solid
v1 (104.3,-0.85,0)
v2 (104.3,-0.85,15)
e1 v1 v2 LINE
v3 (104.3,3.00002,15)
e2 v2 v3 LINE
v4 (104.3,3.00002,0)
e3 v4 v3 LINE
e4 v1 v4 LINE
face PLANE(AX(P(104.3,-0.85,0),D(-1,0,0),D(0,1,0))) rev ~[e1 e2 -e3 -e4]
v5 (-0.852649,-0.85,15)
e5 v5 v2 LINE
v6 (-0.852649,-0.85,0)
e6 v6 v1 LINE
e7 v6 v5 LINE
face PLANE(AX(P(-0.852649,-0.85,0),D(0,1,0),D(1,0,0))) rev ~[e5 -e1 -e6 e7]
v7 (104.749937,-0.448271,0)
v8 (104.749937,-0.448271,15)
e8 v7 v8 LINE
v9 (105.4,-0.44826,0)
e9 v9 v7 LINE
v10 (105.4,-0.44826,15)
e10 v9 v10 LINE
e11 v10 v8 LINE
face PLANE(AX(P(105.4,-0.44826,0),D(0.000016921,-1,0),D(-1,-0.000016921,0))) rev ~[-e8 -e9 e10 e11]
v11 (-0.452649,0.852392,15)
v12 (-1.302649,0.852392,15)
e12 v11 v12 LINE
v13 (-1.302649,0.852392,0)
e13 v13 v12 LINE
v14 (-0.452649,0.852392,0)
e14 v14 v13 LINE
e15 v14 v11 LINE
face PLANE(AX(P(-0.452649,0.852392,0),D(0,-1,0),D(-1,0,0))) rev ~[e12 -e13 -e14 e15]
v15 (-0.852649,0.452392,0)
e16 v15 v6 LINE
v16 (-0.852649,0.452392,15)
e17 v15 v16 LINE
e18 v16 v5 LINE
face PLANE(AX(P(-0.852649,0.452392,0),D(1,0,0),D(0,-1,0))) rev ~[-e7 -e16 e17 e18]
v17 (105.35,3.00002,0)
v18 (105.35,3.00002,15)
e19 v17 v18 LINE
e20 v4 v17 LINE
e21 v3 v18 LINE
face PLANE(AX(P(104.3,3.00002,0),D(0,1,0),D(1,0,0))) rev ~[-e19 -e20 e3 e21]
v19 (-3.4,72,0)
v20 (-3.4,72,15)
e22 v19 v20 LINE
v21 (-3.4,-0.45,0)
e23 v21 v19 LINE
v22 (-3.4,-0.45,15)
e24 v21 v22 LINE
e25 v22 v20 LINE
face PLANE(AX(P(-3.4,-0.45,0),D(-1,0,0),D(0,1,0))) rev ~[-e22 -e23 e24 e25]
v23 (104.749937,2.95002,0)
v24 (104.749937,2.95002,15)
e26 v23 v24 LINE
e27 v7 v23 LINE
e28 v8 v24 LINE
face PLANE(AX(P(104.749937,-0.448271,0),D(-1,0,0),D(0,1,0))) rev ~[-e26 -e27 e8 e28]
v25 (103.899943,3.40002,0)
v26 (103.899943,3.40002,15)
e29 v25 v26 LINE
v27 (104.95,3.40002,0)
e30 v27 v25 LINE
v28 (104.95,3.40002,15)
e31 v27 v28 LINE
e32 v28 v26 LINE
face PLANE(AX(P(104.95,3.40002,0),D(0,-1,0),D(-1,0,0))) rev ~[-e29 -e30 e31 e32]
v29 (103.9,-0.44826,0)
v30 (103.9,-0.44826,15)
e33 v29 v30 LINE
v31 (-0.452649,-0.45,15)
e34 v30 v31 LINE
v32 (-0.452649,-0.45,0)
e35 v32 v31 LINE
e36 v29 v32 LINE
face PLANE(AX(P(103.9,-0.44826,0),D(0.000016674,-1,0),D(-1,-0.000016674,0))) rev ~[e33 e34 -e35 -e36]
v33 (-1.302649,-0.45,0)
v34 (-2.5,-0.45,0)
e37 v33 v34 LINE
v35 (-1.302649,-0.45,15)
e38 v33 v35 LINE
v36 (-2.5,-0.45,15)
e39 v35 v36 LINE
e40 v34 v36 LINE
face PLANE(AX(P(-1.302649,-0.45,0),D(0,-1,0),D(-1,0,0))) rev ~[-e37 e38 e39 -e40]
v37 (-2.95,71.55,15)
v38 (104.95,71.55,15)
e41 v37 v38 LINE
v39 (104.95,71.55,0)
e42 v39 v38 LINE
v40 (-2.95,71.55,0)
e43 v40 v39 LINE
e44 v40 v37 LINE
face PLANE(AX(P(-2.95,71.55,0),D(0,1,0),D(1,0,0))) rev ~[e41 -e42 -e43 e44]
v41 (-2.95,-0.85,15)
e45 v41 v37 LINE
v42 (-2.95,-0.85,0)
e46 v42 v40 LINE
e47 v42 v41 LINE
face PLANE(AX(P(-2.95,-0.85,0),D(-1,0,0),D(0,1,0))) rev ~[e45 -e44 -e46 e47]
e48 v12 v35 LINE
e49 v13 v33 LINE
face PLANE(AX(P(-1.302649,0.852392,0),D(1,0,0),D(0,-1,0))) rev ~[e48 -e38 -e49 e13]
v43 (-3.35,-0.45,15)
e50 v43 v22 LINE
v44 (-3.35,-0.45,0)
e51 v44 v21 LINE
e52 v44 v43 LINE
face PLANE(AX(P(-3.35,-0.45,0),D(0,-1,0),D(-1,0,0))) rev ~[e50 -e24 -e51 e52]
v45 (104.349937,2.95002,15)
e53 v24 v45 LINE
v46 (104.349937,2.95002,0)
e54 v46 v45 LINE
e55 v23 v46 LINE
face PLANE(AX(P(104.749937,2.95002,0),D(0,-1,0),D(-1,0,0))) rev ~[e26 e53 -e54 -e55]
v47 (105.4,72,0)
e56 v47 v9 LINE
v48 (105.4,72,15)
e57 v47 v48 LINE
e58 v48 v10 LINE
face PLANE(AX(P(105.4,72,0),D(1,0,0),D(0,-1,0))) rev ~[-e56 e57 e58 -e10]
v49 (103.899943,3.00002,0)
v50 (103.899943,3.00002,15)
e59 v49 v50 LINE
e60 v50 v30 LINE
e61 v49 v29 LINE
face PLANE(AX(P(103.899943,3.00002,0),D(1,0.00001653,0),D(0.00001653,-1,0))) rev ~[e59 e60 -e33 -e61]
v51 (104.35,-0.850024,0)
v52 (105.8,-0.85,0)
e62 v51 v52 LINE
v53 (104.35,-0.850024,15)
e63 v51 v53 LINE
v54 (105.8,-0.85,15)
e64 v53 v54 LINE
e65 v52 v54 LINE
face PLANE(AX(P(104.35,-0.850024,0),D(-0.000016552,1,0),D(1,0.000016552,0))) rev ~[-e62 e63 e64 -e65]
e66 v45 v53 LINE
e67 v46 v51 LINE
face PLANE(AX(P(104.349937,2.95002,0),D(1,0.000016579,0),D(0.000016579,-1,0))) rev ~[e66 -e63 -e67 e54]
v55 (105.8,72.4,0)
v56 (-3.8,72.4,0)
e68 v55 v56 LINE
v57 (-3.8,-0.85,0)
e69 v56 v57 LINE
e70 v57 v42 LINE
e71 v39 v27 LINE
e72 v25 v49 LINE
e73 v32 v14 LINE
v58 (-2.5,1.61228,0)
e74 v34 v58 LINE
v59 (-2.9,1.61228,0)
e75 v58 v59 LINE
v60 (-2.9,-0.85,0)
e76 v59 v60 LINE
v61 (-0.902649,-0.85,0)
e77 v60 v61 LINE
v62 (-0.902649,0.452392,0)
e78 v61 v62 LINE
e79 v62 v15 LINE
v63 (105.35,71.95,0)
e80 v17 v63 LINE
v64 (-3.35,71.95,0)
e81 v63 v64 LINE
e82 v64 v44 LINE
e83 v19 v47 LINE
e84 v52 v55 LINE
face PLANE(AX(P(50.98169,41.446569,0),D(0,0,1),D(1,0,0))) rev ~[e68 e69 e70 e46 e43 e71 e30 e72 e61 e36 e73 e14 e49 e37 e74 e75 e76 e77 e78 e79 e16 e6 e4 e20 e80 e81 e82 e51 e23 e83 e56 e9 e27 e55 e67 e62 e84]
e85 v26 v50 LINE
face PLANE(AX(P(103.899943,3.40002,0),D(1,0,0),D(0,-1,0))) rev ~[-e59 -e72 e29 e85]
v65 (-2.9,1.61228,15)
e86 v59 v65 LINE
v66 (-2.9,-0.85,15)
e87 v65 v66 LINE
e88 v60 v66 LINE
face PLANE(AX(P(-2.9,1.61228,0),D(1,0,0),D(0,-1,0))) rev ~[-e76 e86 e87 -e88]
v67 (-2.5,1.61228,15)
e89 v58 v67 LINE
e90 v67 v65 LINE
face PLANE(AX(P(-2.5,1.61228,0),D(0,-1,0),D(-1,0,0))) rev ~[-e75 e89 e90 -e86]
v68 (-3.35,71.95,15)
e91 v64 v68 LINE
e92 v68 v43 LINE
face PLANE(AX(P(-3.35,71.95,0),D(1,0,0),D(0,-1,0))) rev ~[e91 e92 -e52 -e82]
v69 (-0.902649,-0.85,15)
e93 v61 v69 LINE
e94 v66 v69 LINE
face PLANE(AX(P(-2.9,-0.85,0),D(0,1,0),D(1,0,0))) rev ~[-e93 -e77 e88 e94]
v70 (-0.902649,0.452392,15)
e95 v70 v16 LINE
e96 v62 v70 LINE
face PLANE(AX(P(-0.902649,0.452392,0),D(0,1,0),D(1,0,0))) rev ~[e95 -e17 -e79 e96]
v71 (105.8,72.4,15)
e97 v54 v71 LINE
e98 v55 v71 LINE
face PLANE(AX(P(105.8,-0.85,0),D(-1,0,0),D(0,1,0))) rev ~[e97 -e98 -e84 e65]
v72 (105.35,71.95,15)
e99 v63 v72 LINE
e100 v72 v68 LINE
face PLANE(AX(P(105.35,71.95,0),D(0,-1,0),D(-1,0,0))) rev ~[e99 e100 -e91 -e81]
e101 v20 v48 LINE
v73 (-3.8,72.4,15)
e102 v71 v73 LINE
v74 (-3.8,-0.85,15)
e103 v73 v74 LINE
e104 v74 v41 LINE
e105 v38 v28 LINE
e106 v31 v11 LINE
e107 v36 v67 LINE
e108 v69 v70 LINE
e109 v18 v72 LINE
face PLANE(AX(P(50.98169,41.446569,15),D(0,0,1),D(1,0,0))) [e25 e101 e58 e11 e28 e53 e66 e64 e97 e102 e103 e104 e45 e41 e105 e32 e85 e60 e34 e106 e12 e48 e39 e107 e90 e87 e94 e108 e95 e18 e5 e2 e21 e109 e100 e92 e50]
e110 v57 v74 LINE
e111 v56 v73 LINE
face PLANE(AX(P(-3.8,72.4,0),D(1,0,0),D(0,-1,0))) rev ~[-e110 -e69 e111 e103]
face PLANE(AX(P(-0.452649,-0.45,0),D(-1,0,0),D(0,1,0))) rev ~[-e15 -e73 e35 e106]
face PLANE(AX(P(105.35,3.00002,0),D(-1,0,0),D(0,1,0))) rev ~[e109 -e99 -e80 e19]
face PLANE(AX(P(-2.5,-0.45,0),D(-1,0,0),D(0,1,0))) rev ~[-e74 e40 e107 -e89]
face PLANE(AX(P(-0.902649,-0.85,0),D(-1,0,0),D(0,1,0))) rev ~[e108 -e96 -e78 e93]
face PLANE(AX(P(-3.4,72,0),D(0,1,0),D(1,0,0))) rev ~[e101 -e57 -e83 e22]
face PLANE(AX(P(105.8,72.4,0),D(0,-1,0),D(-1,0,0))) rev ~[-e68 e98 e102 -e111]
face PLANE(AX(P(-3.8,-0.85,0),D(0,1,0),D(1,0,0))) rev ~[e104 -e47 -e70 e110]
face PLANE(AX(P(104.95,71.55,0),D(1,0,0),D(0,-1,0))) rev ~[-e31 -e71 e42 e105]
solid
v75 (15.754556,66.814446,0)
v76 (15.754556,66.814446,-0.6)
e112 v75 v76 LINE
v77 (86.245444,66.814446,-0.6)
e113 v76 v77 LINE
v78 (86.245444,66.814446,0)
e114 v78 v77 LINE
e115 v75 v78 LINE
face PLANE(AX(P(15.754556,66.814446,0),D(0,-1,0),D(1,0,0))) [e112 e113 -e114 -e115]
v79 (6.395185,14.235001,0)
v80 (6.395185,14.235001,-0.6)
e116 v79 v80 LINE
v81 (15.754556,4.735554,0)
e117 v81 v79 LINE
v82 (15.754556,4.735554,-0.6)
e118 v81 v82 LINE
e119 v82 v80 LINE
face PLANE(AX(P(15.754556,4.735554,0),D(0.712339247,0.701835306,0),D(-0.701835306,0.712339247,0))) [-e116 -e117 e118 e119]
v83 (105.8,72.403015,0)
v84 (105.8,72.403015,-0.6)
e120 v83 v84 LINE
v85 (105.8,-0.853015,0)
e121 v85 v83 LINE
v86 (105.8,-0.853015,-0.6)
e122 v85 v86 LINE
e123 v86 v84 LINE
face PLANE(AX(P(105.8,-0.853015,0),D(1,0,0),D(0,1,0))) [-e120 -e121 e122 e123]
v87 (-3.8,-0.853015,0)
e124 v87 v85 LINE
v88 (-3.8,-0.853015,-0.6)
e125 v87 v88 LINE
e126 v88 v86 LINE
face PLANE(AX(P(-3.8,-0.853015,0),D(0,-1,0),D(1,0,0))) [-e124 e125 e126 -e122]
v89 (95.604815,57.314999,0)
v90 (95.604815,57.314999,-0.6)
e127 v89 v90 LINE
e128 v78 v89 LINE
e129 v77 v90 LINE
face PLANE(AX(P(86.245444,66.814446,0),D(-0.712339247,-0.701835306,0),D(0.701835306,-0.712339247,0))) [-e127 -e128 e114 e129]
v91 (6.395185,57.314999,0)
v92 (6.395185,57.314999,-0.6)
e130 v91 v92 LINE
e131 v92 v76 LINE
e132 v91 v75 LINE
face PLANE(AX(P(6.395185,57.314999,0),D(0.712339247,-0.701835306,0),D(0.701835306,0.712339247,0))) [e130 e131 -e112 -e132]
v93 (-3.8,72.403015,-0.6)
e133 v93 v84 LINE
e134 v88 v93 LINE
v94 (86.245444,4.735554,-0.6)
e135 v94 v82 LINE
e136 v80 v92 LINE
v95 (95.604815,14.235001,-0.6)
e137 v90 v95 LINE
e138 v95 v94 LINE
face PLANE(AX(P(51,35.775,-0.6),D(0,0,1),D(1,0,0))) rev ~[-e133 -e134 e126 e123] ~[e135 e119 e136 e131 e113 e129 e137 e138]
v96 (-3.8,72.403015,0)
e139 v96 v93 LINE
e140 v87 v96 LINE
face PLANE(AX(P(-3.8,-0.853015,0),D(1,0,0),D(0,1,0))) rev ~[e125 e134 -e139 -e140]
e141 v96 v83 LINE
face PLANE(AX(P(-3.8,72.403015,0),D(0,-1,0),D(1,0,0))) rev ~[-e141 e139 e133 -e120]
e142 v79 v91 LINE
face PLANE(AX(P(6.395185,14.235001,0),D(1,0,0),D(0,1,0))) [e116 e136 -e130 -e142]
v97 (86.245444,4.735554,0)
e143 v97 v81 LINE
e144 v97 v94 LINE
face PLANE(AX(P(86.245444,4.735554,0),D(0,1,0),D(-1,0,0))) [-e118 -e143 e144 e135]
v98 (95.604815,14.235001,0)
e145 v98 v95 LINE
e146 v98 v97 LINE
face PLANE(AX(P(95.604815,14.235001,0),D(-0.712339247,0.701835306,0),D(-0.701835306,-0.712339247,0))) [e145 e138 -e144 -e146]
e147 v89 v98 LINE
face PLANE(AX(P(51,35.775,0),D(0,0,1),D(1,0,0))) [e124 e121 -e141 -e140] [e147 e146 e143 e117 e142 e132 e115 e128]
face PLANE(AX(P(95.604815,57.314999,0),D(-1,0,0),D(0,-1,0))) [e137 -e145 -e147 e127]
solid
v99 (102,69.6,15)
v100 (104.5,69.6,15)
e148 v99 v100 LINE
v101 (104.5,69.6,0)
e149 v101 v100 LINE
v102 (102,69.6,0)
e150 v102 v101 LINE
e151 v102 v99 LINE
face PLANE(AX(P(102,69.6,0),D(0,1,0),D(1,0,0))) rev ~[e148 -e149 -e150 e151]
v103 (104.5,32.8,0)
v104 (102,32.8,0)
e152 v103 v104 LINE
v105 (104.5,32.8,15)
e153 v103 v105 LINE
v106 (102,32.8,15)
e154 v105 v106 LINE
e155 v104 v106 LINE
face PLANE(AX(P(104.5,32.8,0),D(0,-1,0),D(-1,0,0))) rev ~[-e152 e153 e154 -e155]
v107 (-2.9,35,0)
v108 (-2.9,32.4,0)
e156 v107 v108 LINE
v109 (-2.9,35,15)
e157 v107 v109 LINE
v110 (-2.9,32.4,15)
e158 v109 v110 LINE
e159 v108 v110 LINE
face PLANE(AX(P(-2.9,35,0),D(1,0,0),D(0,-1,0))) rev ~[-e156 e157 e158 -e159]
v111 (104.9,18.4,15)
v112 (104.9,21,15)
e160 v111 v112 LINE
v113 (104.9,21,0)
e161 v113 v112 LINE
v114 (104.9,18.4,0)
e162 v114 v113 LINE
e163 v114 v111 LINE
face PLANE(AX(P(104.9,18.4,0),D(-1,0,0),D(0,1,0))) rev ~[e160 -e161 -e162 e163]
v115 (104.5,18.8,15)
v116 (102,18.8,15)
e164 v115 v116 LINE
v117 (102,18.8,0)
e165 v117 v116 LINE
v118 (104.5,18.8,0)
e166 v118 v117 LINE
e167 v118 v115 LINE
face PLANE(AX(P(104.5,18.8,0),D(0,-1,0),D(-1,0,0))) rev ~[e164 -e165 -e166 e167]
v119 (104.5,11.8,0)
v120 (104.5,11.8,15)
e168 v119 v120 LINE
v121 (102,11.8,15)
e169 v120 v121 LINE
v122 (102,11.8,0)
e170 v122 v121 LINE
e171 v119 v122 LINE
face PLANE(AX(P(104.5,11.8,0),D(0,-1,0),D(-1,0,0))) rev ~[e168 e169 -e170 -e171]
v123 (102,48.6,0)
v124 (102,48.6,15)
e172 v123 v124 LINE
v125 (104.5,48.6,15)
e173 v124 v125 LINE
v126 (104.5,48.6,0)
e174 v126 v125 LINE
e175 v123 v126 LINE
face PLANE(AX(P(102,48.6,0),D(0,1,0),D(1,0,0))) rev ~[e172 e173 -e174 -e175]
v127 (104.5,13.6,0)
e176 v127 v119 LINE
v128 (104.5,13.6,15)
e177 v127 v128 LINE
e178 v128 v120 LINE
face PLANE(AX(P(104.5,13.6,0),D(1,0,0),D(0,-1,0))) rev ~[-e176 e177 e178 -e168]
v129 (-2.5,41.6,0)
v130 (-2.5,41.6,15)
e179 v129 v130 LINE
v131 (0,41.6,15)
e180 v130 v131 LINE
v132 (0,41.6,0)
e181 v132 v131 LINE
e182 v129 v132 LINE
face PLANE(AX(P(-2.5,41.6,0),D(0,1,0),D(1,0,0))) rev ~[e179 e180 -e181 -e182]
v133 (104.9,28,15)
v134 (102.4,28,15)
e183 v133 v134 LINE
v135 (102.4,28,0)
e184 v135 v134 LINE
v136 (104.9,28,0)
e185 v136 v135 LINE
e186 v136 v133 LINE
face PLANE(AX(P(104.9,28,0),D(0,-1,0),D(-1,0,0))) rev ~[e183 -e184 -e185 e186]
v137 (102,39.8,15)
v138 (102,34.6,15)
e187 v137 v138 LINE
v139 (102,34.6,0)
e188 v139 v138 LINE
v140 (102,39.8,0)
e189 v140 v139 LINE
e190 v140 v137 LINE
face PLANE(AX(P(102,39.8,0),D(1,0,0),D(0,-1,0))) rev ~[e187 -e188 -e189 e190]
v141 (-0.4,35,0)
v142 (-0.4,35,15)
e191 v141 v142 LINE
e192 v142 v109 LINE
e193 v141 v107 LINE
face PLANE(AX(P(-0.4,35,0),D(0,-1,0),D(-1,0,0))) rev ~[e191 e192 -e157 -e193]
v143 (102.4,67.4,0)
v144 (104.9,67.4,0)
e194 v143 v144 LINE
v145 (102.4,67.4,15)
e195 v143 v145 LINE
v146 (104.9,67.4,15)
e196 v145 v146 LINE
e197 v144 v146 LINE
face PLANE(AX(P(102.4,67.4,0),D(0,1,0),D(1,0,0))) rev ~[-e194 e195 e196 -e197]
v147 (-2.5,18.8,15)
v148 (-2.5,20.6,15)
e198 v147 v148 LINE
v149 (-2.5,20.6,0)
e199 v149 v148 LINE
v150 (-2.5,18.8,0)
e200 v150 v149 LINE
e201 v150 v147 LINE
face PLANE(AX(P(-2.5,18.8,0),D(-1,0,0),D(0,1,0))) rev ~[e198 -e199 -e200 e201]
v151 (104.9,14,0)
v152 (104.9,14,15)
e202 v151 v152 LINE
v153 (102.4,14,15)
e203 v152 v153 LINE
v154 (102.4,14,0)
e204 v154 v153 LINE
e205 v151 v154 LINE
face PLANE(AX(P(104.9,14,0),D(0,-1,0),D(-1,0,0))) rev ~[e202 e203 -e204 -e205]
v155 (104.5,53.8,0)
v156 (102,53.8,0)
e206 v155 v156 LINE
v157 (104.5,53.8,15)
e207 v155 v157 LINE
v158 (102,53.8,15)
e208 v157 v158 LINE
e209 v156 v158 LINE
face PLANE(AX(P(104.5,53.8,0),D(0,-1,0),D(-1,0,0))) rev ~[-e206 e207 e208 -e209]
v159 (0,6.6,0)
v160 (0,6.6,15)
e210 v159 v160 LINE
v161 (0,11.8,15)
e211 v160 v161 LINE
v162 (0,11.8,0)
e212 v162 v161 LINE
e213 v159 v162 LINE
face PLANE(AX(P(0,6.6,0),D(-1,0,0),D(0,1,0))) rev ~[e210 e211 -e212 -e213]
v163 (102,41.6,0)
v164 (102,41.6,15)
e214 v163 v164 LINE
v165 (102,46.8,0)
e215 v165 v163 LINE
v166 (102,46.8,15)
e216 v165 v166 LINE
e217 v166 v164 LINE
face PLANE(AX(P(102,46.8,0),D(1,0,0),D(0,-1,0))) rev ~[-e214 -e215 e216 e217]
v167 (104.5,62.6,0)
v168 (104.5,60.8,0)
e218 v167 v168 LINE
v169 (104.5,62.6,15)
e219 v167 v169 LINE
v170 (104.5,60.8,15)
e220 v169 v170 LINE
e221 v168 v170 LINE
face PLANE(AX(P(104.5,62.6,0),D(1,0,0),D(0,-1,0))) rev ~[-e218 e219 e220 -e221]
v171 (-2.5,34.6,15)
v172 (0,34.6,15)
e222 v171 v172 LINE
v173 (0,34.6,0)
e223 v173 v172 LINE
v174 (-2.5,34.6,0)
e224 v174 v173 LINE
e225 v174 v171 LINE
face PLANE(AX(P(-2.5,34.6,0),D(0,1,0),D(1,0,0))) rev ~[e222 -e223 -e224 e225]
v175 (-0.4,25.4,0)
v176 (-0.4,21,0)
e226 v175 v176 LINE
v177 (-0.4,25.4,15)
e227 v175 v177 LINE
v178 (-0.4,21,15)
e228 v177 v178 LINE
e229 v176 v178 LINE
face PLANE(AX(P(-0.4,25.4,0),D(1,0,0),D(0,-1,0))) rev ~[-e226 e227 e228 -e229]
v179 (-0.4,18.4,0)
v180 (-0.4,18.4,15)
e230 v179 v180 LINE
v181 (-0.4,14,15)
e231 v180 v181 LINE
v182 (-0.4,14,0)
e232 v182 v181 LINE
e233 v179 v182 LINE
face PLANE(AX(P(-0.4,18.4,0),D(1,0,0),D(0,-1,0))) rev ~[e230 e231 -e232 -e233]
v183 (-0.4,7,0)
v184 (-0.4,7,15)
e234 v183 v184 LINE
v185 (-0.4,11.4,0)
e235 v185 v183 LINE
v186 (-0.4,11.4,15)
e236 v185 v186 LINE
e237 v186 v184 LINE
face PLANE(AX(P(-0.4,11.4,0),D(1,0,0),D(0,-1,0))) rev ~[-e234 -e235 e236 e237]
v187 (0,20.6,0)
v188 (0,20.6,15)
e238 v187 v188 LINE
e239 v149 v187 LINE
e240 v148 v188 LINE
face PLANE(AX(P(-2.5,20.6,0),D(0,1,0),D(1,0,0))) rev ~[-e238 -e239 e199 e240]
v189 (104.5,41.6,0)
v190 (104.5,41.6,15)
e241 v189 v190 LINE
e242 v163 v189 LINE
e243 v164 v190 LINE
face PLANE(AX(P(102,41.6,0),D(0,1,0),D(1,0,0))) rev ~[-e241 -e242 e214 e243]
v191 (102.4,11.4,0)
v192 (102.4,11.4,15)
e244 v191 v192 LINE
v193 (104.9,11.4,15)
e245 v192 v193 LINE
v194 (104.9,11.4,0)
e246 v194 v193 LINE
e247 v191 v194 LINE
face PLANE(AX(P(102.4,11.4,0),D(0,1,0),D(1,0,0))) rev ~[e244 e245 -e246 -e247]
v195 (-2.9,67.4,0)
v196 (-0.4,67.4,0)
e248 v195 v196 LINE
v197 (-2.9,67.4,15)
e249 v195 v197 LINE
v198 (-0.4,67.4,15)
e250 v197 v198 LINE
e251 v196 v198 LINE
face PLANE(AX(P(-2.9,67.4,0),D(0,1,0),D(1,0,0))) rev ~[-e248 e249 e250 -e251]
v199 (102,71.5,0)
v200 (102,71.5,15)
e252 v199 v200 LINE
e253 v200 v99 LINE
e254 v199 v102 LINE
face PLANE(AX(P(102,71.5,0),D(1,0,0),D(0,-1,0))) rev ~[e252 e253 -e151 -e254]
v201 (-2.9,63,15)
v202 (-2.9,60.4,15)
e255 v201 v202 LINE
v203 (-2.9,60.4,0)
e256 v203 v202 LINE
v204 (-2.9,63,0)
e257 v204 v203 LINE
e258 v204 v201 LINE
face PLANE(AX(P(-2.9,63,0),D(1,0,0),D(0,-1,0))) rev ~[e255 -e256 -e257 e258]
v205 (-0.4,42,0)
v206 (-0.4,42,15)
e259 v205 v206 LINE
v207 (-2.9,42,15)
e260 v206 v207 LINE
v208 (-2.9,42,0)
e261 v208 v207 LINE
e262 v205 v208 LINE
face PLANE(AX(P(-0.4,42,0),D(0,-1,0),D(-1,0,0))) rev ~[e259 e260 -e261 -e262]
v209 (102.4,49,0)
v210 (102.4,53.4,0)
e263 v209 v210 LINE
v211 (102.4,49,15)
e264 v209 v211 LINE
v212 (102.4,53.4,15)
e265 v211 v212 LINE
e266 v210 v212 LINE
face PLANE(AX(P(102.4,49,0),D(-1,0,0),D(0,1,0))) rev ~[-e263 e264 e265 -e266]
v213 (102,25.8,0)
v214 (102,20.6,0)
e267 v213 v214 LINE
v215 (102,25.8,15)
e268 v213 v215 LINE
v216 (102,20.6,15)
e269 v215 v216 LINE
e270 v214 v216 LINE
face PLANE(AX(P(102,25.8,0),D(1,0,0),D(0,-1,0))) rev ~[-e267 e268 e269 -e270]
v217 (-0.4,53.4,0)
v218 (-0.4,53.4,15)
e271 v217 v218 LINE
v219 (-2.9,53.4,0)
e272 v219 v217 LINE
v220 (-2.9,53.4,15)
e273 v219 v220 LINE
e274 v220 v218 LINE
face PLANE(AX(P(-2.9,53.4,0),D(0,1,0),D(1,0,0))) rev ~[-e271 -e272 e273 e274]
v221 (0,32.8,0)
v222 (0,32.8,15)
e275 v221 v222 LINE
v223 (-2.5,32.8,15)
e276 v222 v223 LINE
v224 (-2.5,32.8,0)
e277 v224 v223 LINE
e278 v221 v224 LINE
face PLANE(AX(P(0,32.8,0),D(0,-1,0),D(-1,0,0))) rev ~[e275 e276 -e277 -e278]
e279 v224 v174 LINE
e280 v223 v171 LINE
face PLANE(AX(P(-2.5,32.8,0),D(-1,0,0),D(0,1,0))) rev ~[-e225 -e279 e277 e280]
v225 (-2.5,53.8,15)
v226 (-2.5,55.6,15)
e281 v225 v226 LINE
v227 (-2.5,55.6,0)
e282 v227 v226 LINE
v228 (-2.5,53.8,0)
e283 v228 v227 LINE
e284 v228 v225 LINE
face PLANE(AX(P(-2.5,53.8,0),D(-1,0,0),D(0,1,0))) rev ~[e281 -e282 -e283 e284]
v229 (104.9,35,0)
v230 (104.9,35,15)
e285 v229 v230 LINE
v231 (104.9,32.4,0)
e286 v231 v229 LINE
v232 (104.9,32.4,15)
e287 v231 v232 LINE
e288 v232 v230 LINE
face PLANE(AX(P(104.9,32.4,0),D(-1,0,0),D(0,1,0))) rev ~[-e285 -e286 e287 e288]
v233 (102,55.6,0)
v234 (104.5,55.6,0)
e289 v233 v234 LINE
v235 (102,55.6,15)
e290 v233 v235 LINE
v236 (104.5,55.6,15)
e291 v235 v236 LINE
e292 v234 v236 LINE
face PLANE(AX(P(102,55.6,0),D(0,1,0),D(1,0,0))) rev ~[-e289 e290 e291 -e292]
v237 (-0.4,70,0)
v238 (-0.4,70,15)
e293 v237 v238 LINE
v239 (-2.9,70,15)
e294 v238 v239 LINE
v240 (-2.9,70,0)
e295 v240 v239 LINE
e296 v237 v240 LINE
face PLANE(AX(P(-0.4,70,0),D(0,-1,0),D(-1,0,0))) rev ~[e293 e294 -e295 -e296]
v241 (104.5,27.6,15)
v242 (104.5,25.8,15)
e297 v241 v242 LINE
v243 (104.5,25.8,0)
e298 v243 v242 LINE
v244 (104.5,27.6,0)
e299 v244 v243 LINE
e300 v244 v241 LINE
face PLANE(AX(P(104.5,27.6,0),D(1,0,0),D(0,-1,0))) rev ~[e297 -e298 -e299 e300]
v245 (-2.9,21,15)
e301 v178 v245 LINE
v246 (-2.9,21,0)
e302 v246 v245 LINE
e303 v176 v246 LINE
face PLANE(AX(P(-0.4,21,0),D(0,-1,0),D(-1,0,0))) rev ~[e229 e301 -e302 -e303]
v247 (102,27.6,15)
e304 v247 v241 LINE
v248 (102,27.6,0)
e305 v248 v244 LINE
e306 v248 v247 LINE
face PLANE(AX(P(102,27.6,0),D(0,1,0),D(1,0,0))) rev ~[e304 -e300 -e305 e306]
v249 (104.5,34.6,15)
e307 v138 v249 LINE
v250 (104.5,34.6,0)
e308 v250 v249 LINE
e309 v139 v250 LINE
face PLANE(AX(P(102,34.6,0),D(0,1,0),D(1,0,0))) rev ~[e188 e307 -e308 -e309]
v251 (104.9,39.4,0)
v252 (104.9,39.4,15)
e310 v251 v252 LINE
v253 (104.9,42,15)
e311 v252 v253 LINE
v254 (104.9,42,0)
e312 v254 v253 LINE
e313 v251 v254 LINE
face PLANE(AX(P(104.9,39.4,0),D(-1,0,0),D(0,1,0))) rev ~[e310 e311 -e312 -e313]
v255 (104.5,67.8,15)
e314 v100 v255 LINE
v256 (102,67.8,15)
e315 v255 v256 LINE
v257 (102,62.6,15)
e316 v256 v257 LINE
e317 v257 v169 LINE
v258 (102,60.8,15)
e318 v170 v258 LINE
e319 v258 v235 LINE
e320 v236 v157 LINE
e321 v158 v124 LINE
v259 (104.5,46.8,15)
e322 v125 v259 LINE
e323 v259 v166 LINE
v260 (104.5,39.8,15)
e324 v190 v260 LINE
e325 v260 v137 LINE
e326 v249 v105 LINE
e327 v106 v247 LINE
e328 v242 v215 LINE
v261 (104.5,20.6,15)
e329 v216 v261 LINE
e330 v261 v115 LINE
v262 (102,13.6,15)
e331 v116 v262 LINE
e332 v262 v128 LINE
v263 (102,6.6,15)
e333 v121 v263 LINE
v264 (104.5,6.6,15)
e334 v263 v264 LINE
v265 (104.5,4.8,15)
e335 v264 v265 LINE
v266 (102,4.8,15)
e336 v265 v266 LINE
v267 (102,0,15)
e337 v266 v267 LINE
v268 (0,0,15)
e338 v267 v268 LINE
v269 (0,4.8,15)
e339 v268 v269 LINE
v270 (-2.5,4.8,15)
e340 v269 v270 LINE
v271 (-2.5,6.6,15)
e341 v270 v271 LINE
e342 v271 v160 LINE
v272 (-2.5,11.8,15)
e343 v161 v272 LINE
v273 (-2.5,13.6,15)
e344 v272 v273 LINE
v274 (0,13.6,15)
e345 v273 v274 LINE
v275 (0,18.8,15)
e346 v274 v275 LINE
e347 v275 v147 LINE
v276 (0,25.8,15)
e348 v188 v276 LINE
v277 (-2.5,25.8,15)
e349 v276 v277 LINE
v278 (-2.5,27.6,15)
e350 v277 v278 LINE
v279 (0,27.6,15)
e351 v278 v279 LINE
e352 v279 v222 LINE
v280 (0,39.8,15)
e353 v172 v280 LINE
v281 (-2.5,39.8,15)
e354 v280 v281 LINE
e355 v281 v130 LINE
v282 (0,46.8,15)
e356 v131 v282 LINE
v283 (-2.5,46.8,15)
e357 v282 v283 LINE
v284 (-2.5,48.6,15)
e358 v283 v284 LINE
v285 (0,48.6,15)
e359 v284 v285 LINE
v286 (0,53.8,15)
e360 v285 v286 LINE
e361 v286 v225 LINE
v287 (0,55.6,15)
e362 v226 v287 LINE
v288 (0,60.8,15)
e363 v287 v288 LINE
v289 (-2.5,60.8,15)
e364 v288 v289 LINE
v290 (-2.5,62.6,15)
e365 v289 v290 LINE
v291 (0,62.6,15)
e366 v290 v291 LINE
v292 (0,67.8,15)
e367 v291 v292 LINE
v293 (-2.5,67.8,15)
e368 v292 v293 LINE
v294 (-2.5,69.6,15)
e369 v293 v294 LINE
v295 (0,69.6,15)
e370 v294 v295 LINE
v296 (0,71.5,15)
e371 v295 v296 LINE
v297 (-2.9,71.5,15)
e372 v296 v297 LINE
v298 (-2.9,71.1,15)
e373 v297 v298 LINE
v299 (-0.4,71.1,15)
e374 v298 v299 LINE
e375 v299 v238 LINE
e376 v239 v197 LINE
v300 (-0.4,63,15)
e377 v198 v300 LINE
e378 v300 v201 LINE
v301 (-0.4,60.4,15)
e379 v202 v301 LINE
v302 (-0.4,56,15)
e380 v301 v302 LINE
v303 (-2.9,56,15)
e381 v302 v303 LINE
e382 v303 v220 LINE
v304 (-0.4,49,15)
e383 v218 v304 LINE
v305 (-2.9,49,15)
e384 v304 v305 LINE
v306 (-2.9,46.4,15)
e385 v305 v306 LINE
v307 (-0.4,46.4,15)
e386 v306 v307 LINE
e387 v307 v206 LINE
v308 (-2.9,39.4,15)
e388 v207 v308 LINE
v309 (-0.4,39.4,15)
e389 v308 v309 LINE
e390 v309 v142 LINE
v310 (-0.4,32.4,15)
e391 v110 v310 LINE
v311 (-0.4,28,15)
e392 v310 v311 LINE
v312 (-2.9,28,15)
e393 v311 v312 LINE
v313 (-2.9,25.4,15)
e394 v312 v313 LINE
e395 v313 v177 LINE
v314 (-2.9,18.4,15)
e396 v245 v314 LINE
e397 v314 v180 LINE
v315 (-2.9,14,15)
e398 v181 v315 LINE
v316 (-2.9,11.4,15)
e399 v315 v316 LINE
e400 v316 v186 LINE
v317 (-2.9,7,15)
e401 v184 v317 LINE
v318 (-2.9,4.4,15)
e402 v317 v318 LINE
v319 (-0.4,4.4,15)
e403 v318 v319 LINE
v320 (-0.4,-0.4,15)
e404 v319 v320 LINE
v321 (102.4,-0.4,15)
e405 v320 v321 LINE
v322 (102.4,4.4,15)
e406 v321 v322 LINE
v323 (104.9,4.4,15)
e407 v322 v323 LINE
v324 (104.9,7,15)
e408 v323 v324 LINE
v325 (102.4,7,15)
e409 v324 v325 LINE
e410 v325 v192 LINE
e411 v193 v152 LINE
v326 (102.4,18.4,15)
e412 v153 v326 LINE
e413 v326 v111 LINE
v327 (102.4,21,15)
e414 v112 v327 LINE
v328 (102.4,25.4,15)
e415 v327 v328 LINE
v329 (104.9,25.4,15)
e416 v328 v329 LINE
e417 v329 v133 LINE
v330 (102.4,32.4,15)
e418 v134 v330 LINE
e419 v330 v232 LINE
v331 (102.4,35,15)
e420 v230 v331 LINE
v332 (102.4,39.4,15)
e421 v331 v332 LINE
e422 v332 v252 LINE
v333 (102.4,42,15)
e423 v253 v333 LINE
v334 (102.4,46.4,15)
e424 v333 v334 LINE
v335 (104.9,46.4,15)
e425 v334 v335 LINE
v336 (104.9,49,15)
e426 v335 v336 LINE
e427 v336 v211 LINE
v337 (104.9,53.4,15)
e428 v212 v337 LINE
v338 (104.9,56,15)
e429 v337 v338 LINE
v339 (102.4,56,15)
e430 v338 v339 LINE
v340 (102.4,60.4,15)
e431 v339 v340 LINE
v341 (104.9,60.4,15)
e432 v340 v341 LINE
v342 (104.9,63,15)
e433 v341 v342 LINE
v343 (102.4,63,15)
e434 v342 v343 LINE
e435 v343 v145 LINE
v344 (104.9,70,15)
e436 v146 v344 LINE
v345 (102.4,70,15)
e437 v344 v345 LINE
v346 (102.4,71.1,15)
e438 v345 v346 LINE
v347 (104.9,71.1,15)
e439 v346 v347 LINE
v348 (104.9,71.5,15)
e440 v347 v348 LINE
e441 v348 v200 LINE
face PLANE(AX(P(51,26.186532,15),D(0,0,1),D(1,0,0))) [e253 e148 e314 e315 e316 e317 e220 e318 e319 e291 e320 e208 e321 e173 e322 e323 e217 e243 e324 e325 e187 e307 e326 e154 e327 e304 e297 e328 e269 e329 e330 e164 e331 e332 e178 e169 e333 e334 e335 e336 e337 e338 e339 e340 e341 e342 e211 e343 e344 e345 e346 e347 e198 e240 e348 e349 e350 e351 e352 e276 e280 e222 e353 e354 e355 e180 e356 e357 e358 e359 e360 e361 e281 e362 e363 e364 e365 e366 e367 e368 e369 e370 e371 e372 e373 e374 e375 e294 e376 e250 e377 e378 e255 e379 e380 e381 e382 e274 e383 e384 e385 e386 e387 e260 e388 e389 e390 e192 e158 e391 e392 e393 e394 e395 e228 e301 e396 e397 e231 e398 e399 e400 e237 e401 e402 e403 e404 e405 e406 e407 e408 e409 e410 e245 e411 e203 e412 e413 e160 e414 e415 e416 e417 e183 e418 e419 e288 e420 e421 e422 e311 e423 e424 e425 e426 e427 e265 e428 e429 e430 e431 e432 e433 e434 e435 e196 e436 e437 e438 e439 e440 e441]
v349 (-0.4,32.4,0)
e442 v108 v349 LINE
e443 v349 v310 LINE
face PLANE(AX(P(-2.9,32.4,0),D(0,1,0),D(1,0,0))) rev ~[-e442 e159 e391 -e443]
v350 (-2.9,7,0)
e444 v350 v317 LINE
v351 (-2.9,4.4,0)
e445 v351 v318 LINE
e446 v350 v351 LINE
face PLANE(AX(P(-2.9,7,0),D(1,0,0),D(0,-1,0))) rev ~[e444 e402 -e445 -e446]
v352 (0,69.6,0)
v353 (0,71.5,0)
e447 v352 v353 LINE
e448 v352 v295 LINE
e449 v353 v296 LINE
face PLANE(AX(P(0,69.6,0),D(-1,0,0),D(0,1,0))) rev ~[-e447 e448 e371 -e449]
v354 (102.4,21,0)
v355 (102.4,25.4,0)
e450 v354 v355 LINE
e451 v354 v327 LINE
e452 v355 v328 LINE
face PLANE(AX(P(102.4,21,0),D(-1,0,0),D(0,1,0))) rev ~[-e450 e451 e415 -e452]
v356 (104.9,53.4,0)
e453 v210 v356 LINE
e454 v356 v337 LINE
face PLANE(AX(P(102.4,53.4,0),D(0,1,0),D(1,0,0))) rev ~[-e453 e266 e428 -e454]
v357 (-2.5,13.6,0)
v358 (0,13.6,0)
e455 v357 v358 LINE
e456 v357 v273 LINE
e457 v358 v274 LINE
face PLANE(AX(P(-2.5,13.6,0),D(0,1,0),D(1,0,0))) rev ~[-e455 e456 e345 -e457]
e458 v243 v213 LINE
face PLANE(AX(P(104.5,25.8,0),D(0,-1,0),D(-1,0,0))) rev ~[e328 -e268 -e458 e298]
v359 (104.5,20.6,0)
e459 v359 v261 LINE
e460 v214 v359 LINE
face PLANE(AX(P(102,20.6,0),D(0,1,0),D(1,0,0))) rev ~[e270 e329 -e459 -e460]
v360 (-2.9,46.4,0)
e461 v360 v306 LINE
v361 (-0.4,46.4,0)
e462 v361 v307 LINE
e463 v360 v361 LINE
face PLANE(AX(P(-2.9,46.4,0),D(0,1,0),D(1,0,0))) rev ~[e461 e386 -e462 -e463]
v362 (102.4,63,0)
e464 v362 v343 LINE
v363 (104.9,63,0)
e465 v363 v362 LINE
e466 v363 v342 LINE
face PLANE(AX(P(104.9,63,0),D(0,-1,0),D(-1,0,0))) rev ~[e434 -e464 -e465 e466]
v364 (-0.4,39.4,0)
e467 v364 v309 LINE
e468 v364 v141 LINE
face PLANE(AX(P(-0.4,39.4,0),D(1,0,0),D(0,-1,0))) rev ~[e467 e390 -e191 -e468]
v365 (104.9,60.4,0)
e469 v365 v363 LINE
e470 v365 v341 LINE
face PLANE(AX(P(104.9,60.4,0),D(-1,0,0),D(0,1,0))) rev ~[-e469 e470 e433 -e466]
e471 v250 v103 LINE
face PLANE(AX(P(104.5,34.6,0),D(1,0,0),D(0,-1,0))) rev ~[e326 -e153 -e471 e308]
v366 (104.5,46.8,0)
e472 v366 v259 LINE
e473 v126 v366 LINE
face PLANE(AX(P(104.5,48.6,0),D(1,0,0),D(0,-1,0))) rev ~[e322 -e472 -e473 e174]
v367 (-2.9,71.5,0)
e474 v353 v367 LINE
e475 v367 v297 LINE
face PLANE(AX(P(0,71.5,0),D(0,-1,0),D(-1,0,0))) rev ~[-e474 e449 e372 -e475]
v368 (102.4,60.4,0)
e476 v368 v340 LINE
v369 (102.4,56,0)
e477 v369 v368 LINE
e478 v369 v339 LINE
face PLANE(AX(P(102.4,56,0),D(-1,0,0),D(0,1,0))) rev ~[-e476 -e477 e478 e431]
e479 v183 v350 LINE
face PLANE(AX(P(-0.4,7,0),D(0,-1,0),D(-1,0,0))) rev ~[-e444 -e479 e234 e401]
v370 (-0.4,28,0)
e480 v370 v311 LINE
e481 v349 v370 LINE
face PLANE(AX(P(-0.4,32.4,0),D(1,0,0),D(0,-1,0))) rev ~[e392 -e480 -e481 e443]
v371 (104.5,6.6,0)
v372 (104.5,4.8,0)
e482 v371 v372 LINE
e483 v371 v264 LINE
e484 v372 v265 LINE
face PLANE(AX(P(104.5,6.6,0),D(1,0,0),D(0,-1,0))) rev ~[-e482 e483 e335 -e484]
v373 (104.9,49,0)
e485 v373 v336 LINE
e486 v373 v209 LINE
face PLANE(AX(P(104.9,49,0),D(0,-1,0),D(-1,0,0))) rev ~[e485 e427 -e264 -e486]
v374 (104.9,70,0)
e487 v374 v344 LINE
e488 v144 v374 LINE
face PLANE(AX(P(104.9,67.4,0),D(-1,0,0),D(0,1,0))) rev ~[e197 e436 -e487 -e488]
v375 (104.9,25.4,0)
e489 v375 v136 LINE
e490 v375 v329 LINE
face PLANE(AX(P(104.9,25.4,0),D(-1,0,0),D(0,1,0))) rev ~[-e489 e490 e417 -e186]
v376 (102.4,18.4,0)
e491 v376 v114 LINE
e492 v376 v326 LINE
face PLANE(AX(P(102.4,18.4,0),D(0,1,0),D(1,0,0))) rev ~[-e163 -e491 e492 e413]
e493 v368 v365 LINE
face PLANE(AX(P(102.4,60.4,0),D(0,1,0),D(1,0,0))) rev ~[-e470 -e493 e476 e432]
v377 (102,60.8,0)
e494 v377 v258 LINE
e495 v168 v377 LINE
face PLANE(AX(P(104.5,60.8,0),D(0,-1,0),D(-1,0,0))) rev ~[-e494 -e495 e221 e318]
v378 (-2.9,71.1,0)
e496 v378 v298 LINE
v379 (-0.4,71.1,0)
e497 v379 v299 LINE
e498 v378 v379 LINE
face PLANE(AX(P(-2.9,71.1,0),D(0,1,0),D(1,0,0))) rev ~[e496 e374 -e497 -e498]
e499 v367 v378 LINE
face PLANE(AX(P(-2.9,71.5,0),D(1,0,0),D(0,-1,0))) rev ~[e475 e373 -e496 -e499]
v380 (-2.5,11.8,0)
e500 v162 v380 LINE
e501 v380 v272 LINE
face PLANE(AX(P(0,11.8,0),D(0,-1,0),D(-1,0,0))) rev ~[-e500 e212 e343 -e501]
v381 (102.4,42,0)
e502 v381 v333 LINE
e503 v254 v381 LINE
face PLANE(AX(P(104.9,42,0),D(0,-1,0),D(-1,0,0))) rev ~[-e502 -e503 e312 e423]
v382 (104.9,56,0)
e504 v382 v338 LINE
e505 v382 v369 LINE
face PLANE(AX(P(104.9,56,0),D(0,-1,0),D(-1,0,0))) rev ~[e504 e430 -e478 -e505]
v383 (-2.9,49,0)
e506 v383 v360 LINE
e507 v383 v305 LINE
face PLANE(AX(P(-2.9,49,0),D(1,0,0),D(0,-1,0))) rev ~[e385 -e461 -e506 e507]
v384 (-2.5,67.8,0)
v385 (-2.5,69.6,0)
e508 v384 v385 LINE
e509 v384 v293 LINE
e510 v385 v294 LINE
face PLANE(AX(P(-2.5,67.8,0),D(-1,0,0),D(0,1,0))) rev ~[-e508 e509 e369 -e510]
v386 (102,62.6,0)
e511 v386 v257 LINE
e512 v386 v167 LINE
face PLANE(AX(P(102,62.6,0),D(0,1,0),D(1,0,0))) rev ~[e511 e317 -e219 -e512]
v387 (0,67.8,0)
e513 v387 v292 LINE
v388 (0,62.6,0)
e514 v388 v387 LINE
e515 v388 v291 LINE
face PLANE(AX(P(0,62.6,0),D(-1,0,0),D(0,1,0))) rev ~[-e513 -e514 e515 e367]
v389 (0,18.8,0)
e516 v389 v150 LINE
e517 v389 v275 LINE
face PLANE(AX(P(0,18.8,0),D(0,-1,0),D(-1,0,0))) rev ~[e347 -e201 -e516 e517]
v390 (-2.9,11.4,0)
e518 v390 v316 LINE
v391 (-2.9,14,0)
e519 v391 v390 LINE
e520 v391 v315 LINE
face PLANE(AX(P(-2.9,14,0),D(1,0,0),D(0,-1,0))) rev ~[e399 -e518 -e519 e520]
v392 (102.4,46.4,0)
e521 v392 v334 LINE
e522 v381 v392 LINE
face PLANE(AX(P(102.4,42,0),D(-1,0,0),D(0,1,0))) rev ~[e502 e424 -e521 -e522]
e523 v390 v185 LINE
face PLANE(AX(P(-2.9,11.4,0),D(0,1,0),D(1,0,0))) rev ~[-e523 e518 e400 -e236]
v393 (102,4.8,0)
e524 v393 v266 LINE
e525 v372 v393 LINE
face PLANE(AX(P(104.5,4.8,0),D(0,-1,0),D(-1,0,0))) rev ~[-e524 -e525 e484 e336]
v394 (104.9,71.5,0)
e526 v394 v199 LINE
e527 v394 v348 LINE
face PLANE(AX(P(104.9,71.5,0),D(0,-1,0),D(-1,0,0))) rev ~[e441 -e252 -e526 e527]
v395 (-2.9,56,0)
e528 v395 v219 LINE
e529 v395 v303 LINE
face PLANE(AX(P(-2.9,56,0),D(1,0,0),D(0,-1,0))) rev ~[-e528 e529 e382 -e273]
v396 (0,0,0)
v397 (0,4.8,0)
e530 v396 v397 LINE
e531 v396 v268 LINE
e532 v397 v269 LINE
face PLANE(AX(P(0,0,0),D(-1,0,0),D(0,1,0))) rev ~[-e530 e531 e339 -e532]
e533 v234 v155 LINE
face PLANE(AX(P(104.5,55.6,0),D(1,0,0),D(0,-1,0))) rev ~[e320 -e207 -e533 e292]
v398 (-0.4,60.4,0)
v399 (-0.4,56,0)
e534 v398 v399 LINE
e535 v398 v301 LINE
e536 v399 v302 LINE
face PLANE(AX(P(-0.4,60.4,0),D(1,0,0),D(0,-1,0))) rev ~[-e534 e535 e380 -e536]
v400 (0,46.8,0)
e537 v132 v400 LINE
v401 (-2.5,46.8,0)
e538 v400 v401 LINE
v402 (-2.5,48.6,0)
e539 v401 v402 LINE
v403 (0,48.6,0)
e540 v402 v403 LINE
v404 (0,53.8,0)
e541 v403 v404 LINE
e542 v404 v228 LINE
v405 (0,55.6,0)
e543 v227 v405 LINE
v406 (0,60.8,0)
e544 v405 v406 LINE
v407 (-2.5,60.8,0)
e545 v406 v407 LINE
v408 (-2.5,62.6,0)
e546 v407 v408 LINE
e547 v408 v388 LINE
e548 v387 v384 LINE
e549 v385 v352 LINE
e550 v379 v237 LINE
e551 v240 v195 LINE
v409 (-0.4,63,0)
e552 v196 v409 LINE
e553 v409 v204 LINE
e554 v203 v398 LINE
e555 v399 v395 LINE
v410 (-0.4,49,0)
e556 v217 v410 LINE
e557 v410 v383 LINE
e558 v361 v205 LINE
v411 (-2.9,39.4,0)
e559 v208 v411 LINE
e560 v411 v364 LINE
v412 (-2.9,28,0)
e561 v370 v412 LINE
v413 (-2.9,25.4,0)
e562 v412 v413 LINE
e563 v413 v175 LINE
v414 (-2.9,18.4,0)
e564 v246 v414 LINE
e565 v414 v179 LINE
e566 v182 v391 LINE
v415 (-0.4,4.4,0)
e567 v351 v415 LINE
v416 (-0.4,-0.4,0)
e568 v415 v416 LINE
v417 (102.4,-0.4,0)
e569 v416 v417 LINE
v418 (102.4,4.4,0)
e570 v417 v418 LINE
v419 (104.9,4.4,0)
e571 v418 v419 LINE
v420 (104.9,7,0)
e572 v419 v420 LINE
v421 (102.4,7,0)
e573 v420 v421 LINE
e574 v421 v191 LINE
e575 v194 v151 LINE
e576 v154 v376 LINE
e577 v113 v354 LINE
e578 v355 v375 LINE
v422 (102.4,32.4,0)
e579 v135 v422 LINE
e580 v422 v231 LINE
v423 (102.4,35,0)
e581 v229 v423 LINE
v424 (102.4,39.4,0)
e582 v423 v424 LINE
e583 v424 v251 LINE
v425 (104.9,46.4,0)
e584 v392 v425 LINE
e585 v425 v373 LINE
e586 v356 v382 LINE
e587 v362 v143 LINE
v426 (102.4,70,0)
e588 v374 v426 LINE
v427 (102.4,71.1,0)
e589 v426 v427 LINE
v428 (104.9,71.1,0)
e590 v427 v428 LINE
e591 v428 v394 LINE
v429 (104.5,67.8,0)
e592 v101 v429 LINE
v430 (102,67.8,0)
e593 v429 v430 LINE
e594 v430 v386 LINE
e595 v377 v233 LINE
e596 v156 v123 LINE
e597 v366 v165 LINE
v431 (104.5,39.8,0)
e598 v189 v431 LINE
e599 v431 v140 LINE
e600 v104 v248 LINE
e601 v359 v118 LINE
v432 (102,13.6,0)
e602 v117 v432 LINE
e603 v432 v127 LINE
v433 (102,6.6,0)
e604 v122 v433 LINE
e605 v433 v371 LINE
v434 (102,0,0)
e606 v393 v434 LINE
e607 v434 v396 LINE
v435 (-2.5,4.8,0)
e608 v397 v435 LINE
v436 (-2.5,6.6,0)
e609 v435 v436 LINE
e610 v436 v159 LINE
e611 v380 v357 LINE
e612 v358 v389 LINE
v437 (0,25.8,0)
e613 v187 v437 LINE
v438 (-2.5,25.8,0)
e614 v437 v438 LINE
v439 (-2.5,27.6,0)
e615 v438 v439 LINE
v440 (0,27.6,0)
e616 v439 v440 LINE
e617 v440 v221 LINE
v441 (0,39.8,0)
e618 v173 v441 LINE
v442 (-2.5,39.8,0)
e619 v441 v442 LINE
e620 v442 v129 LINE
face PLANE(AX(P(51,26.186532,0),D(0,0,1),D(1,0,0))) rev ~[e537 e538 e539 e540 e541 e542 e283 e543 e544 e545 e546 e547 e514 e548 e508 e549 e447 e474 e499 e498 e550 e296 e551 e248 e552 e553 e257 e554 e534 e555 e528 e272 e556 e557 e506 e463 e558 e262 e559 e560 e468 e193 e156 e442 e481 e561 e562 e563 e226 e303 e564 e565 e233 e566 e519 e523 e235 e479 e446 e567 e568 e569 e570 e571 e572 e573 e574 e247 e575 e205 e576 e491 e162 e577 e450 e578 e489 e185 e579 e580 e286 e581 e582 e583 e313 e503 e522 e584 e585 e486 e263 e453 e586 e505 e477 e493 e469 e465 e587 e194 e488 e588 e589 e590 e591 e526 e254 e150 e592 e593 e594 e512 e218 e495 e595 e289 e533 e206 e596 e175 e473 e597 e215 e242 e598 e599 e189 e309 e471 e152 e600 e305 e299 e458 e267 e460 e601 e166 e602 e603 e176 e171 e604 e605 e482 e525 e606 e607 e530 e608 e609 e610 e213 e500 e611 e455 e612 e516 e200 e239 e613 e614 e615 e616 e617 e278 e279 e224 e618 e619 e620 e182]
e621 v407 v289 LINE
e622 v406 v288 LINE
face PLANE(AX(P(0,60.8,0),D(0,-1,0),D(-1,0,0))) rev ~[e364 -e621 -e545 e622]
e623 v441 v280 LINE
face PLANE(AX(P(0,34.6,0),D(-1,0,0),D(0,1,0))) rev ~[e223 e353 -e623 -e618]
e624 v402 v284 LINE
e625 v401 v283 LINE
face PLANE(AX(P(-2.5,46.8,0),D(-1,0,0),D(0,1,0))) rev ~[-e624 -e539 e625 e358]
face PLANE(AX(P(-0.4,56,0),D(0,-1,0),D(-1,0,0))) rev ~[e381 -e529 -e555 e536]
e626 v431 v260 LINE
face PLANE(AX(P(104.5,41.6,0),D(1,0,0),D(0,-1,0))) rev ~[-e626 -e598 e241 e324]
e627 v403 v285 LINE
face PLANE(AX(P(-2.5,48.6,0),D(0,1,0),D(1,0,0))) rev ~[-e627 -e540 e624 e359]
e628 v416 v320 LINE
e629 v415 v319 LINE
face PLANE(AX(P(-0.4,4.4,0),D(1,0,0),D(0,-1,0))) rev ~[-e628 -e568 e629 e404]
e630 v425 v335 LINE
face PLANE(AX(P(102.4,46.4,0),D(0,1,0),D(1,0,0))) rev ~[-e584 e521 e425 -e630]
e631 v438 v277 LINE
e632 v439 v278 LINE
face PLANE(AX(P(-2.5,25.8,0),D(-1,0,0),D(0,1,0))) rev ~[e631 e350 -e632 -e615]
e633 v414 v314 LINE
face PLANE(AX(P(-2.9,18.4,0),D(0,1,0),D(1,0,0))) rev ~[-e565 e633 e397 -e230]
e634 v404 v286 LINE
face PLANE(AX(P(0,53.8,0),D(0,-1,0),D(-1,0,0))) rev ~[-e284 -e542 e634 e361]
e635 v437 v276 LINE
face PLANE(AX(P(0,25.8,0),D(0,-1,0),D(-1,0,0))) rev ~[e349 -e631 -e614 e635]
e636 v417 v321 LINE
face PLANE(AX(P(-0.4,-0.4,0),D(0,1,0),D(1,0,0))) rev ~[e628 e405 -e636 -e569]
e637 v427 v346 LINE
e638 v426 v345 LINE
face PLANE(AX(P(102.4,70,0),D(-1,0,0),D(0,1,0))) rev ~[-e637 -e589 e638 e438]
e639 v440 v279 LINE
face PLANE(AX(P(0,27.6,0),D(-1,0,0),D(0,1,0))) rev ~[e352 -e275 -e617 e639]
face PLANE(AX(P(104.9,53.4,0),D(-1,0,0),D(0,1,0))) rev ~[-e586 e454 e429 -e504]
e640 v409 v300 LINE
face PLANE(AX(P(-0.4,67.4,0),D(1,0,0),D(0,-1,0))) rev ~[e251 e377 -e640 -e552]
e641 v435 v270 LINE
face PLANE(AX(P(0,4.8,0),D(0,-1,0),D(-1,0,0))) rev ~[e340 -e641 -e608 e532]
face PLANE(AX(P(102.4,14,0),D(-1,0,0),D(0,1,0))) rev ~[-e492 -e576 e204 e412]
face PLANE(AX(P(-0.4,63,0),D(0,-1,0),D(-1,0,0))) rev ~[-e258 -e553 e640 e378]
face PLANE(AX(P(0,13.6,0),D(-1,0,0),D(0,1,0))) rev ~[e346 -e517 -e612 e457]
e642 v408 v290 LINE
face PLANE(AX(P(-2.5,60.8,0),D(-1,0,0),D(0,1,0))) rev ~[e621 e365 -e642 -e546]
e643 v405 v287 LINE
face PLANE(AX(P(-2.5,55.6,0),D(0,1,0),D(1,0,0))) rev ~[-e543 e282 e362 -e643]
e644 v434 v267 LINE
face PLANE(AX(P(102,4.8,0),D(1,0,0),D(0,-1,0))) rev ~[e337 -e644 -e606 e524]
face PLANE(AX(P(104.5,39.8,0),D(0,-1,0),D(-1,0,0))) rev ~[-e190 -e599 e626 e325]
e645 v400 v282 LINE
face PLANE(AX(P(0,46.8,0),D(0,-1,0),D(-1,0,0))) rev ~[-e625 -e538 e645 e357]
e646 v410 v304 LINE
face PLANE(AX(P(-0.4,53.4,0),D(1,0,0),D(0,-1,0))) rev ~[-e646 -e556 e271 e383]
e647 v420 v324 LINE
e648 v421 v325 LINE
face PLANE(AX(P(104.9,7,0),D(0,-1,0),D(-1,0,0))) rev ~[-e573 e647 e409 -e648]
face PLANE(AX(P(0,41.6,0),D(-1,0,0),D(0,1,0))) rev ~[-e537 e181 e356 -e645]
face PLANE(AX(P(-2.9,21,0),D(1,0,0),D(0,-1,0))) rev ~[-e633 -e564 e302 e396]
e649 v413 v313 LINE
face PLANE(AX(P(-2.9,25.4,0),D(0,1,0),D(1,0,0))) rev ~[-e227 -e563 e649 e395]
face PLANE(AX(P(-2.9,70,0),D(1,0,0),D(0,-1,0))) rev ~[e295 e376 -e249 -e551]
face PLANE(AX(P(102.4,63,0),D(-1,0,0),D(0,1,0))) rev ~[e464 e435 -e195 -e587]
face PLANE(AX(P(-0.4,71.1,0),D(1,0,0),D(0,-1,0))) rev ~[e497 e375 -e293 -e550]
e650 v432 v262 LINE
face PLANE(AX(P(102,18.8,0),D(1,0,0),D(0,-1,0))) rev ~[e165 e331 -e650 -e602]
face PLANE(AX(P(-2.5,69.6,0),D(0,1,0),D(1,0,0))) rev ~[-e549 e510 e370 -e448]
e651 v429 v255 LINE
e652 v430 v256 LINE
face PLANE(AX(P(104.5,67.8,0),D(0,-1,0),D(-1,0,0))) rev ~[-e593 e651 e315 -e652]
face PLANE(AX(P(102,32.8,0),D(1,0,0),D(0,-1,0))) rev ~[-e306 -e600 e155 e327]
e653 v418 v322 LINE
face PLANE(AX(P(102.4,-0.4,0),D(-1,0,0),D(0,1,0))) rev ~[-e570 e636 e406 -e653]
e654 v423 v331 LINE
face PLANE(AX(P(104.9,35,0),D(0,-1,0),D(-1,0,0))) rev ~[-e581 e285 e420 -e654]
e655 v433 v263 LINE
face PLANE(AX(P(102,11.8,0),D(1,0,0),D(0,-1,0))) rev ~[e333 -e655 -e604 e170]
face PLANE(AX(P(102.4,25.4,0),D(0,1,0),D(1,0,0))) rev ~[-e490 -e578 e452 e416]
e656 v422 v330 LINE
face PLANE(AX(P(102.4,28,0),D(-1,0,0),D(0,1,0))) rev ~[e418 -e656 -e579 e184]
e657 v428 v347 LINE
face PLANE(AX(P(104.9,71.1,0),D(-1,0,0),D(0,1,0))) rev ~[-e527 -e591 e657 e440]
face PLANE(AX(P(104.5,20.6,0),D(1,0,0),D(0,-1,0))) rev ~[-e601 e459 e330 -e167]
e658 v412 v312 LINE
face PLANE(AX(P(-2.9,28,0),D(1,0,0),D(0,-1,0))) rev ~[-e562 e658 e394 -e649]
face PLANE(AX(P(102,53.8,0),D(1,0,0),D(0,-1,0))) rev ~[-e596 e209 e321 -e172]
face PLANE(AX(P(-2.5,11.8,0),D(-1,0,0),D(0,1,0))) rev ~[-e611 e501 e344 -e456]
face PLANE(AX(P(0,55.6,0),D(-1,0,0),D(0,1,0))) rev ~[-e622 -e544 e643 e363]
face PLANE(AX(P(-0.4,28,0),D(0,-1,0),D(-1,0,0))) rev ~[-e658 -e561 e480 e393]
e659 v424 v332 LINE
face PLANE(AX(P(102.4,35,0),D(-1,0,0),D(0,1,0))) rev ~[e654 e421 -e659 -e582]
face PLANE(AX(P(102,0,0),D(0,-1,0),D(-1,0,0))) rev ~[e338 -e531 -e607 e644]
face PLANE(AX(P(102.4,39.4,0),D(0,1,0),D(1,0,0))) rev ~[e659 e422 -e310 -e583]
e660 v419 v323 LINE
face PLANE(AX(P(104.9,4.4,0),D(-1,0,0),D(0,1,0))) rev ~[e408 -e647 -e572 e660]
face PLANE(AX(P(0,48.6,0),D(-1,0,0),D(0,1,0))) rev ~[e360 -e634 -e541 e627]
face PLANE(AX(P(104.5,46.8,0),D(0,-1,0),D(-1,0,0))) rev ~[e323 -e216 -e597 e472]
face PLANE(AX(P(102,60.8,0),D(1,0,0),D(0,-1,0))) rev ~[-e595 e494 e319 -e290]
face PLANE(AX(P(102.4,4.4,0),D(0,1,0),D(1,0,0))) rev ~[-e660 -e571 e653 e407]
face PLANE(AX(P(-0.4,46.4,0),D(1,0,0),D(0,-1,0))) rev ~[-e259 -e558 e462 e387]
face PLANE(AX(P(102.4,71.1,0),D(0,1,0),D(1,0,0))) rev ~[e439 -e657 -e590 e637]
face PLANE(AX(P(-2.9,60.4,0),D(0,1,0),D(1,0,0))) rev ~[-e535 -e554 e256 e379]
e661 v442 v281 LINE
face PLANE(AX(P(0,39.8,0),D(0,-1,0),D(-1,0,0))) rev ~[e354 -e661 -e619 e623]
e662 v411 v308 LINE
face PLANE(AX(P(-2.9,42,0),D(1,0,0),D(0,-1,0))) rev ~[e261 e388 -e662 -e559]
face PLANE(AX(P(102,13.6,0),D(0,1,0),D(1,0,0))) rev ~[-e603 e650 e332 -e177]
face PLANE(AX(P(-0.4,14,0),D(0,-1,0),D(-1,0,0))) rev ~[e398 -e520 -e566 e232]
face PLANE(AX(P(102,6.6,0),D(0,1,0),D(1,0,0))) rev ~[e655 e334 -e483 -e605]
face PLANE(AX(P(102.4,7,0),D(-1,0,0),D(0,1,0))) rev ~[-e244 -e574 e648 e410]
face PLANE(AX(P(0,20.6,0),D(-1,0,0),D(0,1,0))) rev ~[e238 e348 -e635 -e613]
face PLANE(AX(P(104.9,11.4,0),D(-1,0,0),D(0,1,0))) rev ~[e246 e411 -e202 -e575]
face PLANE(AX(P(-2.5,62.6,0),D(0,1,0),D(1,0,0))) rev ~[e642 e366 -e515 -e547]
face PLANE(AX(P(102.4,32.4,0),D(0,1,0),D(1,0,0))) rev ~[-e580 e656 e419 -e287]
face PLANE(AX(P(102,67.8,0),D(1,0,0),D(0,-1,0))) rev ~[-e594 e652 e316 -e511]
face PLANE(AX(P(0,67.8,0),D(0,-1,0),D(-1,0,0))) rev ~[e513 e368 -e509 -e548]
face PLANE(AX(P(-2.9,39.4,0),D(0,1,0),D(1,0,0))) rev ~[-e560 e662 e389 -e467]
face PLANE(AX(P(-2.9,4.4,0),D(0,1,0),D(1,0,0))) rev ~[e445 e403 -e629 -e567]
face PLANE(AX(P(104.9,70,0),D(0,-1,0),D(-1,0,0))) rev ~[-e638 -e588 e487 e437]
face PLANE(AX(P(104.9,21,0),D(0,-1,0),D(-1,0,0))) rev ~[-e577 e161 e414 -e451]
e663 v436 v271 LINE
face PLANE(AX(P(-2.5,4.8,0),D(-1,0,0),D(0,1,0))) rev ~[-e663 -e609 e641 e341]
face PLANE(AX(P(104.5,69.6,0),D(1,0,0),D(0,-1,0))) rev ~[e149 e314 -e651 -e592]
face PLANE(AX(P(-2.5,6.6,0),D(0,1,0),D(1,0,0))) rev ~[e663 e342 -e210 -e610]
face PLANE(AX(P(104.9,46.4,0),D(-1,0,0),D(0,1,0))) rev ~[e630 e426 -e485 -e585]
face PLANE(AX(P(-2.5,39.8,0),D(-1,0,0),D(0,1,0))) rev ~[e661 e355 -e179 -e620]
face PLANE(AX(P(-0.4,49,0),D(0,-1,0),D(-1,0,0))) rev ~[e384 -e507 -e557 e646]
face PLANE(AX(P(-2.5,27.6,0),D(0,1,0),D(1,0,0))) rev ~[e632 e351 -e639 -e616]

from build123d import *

# Parameters (mm, degrees)
F1_DEPTH = 15
F2_W     = 109.6
F2_H     = 73.25603
F3_DEPTH = 0.6


with BuildPart() as f1:
    # F0 (on Top) → F1 (new body)
    with BuildSketch(Plane.XY):
        Polygon((51, 0), (0, 0), (0, 4.8), (-2.5, 4.8), (-2.5, 6.6), (0, 6.6), (0, 7), (0, 11.8), (-2.5, 11.8), (-2.5, 13.6), (0, 13.6), (0, 14), (0, 18.8), (-2.5, 18.8), (-2.5, 20.6), (0, 20.6), (0, 21), (0, 25.8), (-2.5, 25.8), (-2.5, 27.6), (0, 27.6), (0, 28), (0, 32.8), (-2.5, 32.8), (-2.5, 34.6), (0, 34.6), (0, 35), (0, 39.8), (-2.5, 39.8), (-2.5, 41.6), (0, 41.6), (0, 42), (0, 46.8), (-2.5, 46.8), (-2.5, 48.6), (0, 48.6), (0, 49), (0, 53.8), (-2.5, 53.8), (-2.5, 55.6), (0, 55.6), (0, 56), (0, 60.8), (-2.5, 60.8), (-2.5, 62.6), (0, 62.6), (0, 63), (0, 67.8), (-2.5, 67.8), (-2.5, 69.6), (0, 69.6), (0, 70), (0, 71.5), (-2.9, 71.5), (-2.9, 71.1), (-0.4, 71.1), (-0.4, 70), (-2.9, 70), (-2.9, 67.4), (-0.4, 67.4), (-0.4, 63), (-2.9, 63), (-2.9, 60.4), (-0.4, 60.4), (-0.4, 56), (-2.9, 56), (-2.9, 53.4), (-0.4, 53.4), (-0.4, 49), (-2.9, 49), (-2.9, 46.4), (-0.4, 46.4), (-0.4, 42), (-2.9, 42), (-2.9, 39.4), (-0.4, 39.4), (-0.4, 35), (-2.9, 35), (-2.9, 32.4), (-0.4, 32.4), (-0.4, 28), (-2.9, 28), (-2.9, 25.4), (-0.4, 25.4), (-0.4, 21), (-2.9, 21), (-2.9, 18.4), (-0.4, 18.4), (-0.4, 14), (-2.9, 14), (-2.9, 11.4), (-0.4, 11.4), (-0.4, 7), (-2.9, 7), (-2.9, 4.4), (-0.4, 4.4), (-0.4, 0), (-0.4, -0.4), (51, -0.4), (102.4, -0.4), (102.4, 0), (102.4, 4.4), (104.9, 4.4), (104.9, 7), (102.4, 7), (102.4, 11.4), (104.9, 11.4), (104.9, 14), (102.4, 14), (102.4, 18.4), (104.9, 18.4), (104.9, 21), (102.4, 21), (102.4, 25.4), (104.9, 25.4), (104.9, 28), (102.4, 28), (102.4, 32.4), (104.9, 32.4), (104.9, 35), (102.4, 35), (102.4, 39.4), (104.9, 39.4), (104.9, 42), (102.4, 42), (102.4, 46.4), (104.9, 46.4), (104.9, 49), (102.4, 49), (102.4, 53.4), (104.9, 53.4), (104.9, 56), (102.4, 56), (102.4, 60.4), (104.9, 60.4), (104.9, 63), (102.4, 63), (102.4, 67.4), (104.9, 67.4), (104.9, 70), (102.4, 70), (102.4, 71.1), (104.9, 71.1), (104.9, 71.5), (102, 71.5), (102, 70), (102, 69.6), (104.5, 69.6), (104.5, 67.8), (102, 67.8), (102, 63), (102, 62.6), (104.5, 62.6), (104.5, 60.8), (102, 60.8), (102, 56), (102, 55.6), (104.5, 55.6), (104.5, 53.8), (102, 53.8), (102, 49), (102, 48.6), (104.5, 48.6), (104.5, 46.8), (102, 46.8), (102, 42), (102, 41.6), (104.5, 41.6), (104.5, 39.8), (102, 39.8), (102, 35), (102, 34.6), (104.5, 34.6), (104.5, 32.8), (102, 32.8), (102, 28), (102, 27.6), (104.5, 27.6), (104.5, 25.8), (102, 25.8), (102, 21), (102, 20.6), (104.5, 20.6), (104.5, 18.8), (102, 18.8), (102, 14), (102, 13.6), (104.5, 13.6), (104.5, 11.8), (102, 11.8), (102, 7), (102, 6.6), (104.5, 6.6), (104.5, 4.8), (102, 4.8), (102, 0), align=None)
        Polygon((-2.95, 3.40002), (-2.95, 71.55), (51, 71.55), (104.95, 71.55), (104.95, 3.40002), (103.899943, 3.40002), (103.899943, 3.00002), (103.9, -0.44826), (-0.452649, -0.45), (-0.452649, 0), (-0.452649, 0.852392), (-1.302649, 0.852392), (-1.302649, -0.45), (-2.5, -0.45), (-2.5, 1.61228), (-2.9, 1.61228), (-2.9, -0.85), (-0.902649, -0.85), (-0.902649, 0.452392), (-0.852649, 0.452392), (-0.852649, -0.85), (104.3, -0.85), (104.3, 3.00002), (105.35, 3.00002), (105.35, 71.95), (51, 71.95), (-3.35, 71.95), (-3.35, -0.45), (-3.4, -0.45), (-3.4, 72), (105.4, 72), (105.4, 0), (105.4, -0.44826), (104.749937, -0.448271), (104.749937, 2.95002), (104.349937, 2.95002), (104.35, -0.850024), (105.8, -0.85), (105.8, 72.4), (-3.8, 72.4), (-3.8, -0.85), (-2.95, -0.85), align=None)
    extrude(amount=F1_DEPTH)


with BuildPart() as f3:
    # F2 (on Top) → F3 (new body)
    with BuildSketch(Plane.XY):
        with Locations((51, 35.775)):
            Rectangle(F2_W, F2_H)
        Polygon((6.395185, 57.314999), (15.754556, 66.814446), (86.245444, 66.814446), (95.604815, 57.314999), (95.604815, 14.235001), (86.245444, 4.735554), (15.754556, 4.735554), (6.395185, 14.235001), align=None, mode=Mode.SUBTRACT)
    extrude(amount=-F3_DEPTH)


solid = Compound([f1.part, f3.part])
